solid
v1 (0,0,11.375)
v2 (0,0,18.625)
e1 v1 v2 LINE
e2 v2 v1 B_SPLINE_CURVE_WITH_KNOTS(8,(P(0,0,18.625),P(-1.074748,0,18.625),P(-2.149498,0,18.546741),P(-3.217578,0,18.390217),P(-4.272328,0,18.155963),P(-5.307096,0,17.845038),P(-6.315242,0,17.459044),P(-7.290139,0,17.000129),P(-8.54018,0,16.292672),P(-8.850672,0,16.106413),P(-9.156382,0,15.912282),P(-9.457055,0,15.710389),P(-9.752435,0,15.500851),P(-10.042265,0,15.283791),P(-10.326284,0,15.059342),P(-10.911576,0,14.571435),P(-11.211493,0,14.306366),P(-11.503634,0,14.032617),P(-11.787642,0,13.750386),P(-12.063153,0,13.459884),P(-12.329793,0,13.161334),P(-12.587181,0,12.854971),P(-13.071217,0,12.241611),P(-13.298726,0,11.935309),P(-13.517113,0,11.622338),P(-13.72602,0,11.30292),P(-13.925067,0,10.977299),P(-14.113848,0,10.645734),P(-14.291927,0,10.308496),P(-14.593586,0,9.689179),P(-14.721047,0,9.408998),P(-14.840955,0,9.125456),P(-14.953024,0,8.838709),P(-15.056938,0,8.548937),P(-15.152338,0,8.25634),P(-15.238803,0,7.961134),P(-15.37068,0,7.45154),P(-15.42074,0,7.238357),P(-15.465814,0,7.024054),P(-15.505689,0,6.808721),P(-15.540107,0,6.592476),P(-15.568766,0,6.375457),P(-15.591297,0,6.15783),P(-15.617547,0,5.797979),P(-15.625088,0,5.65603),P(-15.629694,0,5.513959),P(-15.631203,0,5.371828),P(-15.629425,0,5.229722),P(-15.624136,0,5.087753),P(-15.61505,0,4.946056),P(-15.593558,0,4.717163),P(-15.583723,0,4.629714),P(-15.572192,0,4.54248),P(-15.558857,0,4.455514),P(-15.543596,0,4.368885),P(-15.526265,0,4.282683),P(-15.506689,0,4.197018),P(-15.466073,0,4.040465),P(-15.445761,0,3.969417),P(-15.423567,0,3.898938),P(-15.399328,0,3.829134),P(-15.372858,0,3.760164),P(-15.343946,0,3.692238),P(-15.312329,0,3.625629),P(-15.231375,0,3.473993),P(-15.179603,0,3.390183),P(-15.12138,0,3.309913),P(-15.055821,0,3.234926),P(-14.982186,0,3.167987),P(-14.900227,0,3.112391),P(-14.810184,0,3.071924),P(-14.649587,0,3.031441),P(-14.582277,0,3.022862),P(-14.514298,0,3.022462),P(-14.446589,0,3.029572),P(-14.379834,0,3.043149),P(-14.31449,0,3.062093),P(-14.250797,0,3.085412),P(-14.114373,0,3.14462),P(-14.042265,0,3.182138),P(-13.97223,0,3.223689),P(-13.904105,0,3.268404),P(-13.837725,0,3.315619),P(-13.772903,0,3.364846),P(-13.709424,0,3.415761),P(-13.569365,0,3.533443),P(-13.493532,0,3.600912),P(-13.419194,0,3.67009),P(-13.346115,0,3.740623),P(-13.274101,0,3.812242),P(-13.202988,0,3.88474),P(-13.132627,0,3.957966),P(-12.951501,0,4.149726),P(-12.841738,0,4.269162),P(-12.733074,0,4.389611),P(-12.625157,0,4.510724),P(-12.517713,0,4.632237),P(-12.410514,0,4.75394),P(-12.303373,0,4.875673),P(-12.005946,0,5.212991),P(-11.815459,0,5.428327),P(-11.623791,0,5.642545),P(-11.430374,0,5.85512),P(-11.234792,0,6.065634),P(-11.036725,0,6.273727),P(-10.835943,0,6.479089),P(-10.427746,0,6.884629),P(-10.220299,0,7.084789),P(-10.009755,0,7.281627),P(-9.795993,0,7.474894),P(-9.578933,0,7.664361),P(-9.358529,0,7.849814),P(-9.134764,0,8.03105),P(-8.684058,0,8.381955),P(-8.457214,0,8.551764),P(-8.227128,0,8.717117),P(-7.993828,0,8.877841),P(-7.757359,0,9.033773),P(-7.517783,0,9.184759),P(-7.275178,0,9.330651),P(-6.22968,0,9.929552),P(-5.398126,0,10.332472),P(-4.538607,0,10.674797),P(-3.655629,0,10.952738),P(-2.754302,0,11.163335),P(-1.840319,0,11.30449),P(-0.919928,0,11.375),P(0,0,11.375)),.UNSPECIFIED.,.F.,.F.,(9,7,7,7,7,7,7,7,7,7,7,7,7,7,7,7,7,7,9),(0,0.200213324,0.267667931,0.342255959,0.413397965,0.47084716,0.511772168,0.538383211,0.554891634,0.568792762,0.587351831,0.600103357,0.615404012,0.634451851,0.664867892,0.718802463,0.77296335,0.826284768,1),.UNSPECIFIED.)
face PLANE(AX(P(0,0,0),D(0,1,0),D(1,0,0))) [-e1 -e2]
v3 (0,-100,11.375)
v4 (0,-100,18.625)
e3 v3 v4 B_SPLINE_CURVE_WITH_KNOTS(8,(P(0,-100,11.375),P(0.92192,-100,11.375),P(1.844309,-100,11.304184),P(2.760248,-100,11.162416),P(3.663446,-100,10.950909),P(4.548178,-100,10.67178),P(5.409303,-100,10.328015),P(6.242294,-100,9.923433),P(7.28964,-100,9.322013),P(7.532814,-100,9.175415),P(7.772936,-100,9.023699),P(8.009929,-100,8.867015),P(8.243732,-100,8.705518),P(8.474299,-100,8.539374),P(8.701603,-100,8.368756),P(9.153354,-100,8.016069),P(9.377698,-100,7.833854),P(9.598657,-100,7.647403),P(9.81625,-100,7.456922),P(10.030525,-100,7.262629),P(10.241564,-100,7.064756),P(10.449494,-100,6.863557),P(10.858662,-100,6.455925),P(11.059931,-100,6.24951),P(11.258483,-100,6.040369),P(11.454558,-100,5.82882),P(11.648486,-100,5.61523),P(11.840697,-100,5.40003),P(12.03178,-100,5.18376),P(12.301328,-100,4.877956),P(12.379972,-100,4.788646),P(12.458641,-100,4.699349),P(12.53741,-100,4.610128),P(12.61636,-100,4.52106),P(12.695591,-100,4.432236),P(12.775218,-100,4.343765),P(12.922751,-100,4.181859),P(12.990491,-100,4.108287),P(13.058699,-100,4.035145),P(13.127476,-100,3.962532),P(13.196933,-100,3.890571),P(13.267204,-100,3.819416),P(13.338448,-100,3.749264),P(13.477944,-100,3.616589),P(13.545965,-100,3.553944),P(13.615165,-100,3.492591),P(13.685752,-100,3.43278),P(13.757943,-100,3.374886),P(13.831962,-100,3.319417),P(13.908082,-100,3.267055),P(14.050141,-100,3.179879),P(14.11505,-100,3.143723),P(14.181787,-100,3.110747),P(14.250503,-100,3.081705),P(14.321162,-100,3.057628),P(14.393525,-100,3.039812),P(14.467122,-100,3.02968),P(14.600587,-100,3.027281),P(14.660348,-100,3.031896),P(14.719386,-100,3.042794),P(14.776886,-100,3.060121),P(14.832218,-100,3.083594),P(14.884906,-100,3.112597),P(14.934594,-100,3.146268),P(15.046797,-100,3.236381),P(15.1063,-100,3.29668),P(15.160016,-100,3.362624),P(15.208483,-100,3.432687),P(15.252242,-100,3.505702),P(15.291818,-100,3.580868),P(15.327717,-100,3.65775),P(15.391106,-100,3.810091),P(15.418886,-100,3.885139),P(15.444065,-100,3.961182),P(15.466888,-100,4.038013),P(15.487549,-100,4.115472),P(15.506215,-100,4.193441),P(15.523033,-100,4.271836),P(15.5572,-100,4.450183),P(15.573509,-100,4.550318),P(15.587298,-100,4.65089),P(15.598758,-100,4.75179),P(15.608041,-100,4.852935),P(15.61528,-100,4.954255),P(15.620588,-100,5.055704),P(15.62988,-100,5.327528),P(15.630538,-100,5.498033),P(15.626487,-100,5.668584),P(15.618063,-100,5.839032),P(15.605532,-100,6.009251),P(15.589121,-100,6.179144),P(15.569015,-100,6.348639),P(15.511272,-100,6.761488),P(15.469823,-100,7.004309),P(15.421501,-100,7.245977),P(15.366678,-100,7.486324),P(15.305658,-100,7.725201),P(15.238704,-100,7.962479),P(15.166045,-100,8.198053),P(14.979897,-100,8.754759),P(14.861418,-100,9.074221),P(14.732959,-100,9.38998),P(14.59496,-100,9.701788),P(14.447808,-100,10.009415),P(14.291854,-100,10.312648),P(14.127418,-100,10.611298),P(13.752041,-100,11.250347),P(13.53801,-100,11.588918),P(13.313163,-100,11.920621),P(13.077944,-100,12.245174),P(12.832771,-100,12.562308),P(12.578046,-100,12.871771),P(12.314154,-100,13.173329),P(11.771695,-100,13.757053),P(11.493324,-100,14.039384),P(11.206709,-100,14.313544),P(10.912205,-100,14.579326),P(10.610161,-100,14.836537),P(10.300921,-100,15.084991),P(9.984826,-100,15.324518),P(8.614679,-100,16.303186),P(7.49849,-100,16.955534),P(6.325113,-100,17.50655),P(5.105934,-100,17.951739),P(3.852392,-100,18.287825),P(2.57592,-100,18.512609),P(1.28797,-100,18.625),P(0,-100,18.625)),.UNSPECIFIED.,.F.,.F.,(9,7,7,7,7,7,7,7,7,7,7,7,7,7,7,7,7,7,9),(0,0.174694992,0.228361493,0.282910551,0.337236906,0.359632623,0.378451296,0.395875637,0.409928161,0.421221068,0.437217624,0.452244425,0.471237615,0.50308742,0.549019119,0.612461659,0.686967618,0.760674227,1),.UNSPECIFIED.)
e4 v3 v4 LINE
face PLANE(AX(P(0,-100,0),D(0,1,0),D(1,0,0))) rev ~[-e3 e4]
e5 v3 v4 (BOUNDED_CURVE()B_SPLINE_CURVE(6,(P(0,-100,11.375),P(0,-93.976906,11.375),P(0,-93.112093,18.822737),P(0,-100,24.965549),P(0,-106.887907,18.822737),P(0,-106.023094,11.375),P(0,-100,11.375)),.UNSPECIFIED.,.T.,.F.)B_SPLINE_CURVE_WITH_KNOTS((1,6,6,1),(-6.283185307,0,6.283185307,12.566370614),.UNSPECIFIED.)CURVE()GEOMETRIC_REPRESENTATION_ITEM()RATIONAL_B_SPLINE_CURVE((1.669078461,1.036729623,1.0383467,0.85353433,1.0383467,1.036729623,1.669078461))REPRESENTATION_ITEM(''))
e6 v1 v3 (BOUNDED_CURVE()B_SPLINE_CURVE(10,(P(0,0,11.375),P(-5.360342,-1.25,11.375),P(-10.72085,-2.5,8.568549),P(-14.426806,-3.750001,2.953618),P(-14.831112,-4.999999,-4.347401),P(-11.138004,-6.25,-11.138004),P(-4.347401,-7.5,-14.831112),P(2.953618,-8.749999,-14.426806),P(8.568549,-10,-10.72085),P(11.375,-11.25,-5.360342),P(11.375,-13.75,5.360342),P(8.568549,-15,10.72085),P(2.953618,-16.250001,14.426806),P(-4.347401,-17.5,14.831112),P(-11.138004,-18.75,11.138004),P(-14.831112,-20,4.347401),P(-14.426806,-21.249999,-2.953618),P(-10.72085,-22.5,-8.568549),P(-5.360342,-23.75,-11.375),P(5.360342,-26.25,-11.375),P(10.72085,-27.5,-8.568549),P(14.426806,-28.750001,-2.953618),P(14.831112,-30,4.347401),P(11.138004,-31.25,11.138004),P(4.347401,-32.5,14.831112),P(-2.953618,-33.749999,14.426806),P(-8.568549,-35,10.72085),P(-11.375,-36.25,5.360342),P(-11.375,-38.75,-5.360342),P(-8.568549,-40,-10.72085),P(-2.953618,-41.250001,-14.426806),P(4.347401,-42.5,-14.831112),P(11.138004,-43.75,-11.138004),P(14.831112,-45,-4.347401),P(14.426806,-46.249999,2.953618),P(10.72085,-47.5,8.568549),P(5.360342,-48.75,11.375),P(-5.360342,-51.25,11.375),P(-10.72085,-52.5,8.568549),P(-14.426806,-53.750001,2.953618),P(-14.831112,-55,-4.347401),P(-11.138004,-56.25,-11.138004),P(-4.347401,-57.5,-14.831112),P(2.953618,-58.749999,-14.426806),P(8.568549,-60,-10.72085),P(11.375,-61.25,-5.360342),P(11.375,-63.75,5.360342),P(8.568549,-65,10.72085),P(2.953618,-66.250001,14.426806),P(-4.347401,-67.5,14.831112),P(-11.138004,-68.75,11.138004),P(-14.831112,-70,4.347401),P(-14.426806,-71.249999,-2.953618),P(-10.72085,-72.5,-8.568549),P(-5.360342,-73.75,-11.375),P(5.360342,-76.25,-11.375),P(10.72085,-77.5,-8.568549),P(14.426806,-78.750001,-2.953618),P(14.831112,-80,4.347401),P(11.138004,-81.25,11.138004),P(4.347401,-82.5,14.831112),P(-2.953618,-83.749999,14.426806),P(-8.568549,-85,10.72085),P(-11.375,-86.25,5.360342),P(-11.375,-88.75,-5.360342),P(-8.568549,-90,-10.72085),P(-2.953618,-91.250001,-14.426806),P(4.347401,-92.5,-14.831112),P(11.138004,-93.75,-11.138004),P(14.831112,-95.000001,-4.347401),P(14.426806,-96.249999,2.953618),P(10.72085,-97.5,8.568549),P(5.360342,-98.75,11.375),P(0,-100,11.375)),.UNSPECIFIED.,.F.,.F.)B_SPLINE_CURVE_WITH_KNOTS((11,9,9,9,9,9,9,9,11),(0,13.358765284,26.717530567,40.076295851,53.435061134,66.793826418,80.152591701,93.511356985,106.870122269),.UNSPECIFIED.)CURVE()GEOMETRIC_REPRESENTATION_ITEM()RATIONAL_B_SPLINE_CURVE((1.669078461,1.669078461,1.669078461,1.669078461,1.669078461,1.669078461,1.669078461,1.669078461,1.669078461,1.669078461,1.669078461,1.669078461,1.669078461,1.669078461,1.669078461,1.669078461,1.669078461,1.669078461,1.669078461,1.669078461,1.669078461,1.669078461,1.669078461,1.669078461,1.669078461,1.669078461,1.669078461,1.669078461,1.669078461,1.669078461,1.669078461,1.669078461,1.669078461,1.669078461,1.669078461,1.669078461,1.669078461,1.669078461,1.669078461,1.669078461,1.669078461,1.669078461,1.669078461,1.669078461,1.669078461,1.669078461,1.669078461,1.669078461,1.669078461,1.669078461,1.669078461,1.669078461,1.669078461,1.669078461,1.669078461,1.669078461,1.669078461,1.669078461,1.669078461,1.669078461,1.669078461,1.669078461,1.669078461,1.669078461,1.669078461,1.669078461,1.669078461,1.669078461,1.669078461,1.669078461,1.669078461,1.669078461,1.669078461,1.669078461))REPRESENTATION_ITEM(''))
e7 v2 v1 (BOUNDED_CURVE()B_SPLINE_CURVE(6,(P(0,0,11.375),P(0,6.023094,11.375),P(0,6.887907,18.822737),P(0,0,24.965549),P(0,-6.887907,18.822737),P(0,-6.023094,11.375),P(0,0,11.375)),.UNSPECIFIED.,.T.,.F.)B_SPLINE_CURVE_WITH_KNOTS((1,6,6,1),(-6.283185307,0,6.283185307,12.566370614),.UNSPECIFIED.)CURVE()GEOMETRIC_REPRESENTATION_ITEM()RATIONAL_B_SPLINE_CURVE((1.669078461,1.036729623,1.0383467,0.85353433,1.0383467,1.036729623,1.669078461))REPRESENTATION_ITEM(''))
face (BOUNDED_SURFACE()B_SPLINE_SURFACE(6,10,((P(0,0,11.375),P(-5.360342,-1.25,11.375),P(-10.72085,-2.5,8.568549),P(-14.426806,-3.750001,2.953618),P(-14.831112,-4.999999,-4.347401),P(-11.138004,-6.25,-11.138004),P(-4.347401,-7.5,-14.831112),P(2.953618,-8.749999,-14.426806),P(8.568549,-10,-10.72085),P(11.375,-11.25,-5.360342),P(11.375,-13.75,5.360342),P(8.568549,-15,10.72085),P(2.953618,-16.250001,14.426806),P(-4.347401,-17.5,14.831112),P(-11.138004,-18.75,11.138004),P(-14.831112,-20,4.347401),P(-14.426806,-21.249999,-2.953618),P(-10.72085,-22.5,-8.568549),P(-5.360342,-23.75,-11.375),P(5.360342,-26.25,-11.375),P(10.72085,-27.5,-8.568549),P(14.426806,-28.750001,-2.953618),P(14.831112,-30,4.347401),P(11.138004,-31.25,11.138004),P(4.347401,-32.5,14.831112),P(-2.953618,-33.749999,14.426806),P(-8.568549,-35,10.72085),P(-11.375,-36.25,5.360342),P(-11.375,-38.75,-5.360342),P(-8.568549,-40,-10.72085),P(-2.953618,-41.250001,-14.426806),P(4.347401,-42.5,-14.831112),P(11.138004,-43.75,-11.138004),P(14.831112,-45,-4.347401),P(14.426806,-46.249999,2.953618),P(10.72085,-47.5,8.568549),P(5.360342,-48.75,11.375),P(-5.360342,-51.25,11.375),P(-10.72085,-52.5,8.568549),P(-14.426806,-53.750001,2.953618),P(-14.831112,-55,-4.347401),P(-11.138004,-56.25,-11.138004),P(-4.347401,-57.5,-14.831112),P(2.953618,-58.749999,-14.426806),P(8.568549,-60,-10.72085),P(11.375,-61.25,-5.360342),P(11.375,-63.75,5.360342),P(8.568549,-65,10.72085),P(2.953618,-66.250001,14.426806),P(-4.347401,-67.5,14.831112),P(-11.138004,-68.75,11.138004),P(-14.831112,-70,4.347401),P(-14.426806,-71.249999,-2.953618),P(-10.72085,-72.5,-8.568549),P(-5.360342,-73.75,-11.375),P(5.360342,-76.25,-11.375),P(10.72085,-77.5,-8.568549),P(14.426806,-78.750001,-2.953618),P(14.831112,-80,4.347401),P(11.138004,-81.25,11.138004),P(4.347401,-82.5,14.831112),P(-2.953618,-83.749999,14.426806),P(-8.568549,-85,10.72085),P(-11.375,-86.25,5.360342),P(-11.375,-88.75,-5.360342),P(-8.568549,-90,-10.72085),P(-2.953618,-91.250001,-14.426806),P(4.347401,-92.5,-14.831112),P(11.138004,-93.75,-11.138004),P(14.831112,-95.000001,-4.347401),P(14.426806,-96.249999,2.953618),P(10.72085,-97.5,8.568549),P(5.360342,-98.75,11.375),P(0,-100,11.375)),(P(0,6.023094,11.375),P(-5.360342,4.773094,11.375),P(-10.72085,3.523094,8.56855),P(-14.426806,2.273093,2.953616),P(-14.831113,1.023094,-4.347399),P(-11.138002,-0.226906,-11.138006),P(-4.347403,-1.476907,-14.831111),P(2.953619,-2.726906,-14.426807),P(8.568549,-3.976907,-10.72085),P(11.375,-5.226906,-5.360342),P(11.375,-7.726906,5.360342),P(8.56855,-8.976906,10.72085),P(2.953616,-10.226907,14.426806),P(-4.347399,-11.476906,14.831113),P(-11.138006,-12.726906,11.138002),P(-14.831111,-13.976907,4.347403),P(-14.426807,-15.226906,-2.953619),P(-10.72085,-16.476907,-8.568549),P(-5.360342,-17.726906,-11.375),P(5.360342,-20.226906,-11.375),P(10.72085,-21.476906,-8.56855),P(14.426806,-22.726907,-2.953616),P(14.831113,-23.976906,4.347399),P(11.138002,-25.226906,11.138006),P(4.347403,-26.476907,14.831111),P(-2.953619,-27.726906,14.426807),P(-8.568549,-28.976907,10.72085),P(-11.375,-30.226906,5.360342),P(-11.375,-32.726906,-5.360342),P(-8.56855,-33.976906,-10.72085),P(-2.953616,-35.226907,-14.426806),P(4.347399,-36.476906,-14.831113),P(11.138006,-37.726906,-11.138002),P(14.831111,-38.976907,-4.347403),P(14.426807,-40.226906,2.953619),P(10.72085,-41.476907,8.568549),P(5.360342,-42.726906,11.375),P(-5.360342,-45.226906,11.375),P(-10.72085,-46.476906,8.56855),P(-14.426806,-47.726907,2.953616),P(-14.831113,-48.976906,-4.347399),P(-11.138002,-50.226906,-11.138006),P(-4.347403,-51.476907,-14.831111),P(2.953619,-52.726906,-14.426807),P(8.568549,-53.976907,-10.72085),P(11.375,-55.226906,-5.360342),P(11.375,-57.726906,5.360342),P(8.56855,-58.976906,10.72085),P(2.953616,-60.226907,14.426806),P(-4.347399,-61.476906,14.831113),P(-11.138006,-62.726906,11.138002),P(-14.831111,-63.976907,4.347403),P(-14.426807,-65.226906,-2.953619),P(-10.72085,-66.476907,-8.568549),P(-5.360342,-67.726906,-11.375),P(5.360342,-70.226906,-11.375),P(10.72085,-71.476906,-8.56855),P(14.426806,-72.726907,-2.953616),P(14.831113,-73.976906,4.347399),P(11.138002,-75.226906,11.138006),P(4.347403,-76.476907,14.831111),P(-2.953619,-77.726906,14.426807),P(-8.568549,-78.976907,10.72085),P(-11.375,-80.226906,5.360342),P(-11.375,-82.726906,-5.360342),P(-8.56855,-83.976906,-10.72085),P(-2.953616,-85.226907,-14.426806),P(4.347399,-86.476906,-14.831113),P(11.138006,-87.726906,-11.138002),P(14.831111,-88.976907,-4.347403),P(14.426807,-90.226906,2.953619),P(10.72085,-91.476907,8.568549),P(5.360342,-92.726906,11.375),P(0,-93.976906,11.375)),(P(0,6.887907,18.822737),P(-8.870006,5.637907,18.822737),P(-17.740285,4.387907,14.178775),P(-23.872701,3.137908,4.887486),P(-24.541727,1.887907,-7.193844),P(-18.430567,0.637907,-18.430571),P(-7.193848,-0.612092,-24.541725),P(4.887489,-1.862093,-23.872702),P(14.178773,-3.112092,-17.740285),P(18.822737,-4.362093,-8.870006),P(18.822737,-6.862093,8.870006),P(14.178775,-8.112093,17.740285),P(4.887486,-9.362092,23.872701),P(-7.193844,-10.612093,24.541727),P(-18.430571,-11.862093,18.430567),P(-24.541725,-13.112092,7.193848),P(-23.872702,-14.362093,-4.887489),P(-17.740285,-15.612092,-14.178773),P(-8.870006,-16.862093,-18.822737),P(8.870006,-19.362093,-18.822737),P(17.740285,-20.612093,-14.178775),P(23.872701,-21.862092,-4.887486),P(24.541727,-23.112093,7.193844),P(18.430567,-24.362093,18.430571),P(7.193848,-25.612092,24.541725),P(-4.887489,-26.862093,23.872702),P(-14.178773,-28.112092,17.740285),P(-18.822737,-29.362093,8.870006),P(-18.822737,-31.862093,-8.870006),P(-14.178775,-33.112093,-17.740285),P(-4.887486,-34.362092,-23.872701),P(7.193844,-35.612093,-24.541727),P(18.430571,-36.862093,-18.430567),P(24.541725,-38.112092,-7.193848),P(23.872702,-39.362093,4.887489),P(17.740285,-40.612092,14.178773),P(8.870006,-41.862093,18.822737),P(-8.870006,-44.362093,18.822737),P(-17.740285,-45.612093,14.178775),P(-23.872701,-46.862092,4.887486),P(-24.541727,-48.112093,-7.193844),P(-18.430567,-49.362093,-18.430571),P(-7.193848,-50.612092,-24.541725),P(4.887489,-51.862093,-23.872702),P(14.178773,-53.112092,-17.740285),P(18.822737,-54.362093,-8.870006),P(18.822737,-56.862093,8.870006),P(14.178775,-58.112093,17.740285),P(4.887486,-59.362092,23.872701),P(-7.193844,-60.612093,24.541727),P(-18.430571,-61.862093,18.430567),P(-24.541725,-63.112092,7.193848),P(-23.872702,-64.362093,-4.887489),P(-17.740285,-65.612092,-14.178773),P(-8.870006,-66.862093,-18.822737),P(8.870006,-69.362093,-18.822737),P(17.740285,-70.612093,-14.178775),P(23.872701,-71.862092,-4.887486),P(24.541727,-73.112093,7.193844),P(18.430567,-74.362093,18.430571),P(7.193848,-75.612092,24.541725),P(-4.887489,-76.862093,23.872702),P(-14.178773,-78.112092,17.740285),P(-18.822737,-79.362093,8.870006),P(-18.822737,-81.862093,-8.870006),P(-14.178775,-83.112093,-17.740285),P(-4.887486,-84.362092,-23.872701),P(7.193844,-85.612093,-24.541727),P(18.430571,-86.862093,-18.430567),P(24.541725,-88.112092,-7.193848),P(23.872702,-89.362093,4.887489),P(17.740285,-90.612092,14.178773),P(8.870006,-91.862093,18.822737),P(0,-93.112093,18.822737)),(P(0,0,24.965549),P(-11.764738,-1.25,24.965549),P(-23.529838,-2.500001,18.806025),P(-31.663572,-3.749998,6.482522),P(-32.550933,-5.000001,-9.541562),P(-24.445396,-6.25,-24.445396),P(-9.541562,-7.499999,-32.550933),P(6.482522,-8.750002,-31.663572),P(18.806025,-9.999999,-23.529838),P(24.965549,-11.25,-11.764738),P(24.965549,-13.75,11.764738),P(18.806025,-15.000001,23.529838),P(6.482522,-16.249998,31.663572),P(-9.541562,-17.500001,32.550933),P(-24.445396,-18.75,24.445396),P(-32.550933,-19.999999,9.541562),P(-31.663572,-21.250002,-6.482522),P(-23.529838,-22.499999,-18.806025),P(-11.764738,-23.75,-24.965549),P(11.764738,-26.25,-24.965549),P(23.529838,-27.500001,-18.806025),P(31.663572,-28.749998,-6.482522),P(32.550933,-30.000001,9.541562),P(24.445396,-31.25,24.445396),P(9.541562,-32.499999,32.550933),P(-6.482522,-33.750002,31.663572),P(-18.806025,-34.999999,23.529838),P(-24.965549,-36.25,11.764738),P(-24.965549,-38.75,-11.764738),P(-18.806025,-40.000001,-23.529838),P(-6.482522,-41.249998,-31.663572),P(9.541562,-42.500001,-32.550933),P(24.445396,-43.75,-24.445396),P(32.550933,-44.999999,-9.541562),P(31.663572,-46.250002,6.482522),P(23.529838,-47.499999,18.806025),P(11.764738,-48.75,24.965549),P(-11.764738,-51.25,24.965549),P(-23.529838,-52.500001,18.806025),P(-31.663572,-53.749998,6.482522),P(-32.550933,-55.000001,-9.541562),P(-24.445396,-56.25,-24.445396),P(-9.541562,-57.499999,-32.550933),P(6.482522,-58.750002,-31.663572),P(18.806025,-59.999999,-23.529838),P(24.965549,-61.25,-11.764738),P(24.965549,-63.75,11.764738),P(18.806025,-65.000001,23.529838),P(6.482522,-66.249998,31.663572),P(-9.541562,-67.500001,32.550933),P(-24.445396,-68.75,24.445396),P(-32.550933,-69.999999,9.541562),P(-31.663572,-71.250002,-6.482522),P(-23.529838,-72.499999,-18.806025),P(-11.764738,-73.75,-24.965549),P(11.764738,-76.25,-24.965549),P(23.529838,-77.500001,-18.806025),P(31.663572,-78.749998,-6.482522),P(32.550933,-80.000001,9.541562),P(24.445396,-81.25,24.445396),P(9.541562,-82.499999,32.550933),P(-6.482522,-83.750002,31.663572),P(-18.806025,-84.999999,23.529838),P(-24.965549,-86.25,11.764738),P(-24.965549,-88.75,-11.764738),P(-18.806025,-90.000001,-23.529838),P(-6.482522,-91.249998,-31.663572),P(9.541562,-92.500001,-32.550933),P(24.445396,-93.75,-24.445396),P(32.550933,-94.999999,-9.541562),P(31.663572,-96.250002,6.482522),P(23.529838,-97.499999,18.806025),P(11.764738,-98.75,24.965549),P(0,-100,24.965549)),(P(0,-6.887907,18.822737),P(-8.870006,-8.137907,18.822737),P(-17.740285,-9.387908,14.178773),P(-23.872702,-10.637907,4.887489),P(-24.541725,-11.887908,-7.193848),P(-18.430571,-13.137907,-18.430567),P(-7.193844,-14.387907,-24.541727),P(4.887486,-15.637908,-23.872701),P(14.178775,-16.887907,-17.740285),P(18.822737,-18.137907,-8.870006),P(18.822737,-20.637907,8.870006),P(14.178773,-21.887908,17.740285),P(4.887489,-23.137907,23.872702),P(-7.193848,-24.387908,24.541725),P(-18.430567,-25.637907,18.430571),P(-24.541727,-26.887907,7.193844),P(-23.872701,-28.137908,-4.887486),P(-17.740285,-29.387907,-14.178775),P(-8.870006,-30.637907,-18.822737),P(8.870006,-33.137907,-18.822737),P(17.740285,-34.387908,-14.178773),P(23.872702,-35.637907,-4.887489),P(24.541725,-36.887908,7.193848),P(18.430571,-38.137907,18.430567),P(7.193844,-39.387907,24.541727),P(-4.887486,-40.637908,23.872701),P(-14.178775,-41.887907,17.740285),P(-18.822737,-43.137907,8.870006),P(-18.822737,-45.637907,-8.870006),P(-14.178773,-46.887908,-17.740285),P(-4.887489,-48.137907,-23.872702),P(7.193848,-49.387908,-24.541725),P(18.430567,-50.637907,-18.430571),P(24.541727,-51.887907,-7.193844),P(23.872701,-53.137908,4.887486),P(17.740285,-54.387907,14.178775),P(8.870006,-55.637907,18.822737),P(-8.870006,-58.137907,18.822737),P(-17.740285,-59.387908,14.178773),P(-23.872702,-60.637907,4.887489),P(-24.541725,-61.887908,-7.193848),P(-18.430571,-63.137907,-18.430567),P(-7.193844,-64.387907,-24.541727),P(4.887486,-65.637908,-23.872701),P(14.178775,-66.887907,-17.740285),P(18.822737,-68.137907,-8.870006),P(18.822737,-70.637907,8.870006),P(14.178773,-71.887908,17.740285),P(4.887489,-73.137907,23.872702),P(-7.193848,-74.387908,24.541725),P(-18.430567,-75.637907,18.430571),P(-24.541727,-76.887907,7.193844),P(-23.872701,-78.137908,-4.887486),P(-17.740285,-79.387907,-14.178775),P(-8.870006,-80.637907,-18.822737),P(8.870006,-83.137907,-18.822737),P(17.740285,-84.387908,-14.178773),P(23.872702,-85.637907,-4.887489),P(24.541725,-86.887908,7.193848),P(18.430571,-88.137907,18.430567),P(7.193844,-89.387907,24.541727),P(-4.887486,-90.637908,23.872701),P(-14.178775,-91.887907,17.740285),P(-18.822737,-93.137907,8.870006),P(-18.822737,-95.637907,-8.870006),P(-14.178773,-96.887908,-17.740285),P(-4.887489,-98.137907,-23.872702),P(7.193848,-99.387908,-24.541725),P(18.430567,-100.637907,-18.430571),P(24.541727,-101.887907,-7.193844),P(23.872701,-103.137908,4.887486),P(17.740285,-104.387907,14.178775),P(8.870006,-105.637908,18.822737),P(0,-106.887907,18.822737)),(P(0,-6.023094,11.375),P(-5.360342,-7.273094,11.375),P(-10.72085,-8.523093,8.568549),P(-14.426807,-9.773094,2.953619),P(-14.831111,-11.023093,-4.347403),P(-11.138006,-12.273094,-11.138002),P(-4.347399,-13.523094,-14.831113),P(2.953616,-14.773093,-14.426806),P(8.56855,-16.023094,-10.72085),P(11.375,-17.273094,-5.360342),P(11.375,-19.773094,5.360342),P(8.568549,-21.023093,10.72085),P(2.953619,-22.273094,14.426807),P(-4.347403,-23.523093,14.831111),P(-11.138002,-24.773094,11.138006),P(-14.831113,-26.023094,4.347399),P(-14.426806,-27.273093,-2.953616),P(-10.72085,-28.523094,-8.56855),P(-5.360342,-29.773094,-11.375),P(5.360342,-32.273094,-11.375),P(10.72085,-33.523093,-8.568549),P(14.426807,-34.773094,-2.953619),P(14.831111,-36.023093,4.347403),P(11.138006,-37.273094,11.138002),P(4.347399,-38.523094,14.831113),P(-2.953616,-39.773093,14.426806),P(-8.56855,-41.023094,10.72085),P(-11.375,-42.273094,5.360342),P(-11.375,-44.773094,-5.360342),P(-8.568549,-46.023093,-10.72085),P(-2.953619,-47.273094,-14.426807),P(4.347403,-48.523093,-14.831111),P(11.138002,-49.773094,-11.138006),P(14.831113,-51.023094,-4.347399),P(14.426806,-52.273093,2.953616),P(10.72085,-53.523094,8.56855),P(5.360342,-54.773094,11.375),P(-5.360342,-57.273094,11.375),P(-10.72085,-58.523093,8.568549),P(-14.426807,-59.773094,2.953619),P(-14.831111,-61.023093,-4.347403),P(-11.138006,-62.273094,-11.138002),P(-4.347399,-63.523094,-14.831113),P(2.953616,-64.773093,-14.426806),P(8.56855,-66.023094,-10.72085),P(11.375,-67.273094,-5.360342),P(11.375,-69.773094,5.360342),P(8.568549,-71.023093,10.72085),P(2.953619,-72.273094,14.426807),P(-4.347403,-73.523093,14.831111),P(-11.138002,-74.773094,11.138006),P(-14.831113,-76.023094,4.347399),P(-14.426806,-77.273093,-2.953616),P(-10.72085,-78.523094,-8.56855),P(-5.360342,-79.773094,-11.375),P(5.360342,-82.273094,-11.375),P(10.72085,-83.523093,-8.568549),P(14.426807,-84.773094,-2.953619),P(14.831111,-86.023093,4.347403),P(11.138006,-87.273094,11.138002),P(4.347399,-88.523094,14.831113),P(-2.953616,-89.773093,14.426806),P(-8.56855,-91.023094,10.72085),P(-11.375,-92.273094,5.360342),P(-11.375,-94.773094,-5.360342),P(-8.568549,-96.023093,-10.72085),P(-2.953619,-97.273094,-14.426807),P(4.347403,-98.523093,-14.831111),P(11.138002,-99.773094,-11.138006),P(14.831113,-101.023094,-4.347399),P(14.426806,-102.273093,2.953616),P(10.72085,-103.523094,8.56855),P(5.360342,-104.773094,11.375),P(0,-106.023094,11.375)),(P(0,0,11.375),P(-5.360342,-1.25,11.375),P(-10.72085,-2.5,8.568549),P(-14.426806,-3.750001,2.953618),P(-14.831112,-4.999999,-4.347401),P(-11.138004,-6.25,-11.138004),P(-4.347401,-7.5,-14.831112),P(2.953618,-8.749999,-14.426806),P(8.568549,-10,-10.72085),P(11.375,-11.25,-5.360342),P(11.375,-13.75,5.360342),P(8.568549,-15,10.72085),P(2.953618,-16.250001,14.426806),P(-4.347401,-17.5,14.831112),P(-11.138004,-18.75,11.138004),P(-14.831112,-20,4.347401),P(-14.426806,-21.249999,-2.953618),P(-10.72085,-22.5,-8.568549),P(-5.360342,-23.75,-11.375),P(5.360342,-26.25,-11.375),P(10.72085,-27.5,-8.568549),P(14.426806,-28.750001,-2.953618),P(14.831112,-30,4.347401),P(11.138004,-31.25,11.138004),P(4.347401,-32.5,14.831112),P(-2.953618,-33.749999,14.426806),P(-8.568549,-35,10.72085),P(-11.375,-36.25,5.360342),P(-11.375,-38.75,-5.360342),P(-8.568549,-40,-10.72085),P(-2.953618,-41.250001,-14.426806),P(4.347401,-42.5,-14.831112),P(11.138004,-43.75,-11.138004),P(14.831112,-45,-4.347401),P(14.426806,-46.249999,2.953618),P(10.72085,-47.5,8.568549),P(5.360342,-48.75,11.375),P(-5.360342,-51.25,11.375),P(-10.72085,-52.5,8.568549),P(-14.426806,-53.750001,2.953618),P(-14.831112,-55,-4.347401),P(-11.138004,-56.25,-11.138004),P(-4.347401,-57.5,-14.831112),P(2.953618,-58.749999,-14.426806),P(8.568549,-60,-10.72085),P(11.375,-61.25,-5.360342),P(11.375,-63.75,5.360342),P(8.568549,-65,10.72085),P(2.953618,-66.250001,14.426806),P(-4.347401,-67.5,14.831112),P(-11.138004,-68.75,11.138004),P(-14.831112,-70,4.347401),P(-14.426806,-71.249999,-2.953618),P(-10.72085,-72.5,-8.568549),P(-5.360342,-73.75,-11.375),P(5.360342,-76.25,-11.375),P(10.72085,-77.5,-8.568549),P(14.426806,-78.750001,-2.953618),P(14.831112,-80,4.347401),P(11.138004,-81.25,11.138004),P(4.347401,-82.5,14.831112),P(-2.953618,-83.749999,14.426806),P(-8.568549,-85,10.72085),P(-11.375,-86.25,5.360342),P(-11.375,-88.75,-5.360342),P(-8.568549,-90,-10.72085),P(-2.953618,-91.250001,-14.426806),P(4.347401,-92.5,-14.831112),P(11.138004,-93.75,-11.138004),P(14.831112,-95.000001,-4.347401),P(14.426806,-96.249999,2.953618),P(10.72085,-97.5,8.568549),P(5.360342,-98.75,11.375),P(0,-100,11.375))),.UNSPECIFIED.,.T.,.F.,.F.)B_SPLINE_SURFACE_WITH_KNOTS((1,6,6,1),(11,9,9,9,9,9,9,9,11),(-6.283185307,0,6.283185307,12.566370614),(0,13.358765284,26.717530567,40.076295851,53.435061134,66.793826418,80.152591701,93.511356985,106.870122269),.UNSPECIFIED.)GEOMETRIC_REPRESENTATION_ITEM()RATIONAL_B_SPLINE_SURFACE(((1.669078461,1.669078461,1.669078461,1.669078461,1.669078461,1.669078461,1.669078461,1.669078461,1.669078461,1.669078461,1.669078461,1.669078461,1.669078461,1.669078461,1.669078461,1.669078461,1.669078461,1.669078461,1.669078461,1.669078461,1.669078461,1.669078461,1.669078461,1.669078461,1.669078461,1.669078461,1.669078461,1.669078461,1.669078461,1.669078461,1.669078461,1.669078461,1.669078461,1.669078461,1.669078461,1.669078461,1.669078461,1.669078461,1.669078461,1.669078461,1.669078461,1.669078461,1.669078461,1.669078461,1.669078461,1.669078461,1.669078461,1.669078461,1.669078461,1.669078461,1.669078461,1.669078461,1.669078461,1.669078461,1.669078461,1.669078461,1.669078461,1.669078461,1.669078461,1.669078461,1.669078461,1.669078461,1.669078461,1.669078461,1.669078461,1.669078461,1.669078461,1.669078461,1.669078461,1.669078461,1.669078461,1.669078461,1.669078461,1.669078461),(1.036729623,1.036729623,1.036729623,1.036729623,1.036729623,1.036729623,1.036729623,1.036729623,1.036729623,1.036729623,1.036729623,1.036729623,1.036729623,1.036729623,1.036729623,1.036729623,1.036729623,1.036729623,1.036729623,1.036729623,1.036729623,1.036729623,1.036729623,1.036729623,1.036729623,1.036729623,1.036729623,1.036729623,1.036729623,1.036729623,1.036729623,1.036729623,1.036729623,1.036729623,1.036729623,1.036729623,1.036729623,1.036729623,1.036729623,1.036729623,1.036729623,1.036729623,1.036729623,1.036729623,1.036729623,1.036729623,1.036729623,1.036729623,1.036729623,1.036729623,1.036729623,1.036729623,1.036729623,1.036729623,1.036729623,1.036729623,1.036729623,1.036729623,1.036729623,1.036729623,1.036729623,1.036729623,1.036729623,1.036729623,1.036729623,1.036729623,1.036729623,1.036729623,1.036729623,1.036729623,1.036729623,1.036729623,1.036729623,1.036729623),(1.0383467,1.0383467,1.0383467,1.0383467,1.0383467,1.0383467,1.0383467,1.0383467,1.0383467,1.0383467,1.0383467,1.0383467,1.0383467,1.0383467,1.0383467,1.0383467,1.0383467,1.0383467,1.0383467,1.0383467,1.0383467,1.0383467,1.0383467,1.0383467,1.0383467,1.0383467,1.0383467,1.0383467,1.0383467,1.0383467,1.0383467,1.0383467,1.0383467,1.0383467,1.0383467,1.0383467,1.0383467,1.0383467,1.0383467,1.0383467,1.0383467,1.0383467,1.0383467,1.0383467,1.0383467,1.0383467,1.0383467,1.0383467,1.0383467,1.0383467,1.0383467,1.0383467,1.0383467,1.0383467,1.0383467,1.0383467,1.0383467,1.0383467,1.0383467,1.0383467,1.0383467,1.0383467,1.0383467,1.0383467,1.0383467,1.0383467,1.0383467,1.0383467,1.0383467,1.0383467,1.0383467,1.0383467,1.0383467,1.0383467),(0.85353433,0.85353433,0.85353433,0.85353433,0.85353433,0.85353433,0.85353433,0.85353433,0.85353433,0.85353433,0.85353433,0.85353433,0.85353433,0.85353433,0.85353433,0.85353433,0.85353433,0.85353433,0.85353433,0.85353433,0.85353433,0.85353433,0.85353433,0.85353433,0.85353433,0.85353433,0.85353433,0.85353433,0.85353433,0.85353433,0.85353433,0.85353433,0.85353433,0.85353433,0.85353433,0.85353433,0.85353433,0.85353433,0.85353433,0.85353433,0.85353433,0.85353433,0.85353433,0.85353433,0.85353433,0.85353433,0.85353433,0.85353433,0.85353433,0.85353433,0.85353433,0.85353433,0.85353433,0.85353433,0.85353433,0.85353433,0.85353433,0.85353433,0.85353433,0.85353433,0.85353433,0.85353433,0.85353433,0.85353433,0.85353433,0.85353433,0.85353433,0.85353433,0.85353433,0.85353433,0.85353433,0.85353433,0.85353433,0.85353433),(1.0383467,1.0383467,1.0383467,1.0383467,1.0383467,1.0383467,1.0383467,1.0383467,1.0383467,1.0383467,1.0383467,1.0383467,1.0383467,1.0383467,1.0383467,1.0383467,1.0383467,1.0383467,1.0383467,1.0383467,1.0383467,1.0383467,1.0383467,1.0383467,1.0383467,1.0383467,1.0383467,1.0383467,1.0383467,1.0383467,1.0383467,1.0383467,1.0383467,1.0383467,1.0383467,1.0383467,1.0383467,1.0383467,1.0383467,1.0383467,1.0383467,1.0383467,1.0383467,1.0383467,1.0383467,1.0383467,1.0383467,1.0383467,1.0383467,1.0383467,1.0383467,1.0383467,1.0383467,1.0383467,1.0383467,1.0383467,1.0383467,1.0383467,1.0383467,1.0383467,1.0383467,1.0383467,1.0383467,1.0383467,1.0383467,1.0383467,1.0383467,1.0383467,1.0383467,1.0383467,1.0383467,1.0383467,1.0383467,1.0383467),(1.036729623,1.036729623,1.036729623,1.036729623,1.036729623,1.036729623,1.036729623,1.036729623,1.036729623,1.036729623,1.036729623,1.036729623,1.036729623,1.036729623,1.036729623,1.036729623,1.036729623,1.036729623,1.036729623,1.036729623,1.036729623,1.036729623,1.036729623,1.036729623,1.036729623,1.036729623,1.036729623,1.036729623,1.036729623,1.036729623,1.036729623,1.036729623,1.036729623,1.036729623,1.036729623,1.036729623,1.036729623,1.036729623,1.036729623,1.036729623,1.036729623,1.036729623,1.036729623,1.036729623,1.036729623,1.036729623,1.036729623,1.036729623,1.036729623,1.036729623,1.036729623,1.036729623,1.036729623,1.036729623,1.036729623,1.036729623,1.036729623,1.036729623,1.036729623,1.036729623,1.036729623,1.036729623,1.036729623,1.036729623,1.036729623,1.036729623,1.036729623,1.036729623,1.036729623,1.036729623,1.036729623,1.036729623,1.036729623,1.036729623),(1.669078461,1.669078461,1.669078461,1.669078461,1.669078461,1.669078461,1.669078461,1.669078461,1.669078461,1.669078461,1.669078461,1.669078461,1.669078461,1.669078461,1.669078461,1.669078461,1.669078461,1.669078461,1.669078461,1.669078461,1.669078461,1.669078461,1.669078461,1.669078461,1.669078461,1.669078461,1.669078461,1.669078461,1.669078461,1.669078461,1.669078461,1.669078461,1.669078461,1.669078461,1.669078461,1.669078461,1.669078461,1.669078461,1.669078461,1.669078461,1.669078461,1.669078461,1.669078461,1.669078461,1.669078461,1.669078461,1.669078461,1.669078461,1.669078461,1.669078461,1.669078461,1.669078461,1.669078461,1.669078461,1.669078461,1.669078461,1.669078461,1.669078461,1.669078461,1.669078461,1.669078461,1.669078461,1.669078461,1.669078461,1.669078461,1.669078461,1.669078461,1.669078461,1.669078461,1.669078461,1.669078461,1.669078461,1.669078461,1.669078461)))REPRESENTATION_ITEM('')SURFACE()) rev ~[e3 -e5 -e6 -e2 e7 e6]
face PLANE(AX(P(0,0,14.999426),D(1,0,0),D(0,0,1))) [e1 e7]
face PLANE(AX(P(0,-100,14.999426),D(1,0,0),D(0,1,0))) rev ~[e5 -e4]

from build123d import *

# Parameters (mm, degrees)
SWEEP1_PITCH       = 16.666666667
SWEEP1_HEIGHT      = 100
SWEEP1_RADIUS      = 15
SWEEP1_START_ANGLE = 180
SKETCH13_R         = 3.625
SKETCH14_R         = 20
CUT_EXTRUDE1_DEPTH = 10
SKETCH16_R         = 20
CUT_EXTRUDE2_DEPTH = 10


with BuildPart() as part:
    # Sweep1: sweep along a helix
    with BuildLine() as sweep1_path:
        add(Helix(SWEEP1_PITCH, SWEEP1_HEIGHT, SWEEP1_RADIUS, center=(0, 0, 0), direction=(0, -1, 0), mode=Mode.PRIVATE).rotate(Axis((0, 0, 0), (0, -1, 0)), SWEEP1_START_ANGLE))
    # Sketch13 → Sweep1 (sweep)
    with BuildSketch(Plane(origin=(0, 0, 0), x_dir=(0, 0, -1), z_dir=(1, 0, 0))):
        with Locations((-15, -100)):
            Circle(SKETCH13_R)
    sweep(path=sweep1_path.line, is_frenet=True)

    # Sketch14 → Cut-Extrude1 (cut)
    with BuildSketch(Plane(origin=(0, 0, 0), x_dir=(1, 0, 0), z_dir=(0, 1, 0))):
        Circle(SKETCH14_R)
    extrude(amount=CUT_EXTRUDE1_DEPTH, mode=Mode.SUBTRACT)

    # Sketch16 → Cut-Extrude2 (cut)
    with BuildSketch(Plane(origin=(0, -100, 0), x_dir=(1, 0, 0), z_dir=(0, 1, 0))):
        Circle(SKETCH16_R)
    extrude(amount=-CUT_EXTRUDE2_DEPTH, mode=Mode.SUBTRACT)


solid = part.part
